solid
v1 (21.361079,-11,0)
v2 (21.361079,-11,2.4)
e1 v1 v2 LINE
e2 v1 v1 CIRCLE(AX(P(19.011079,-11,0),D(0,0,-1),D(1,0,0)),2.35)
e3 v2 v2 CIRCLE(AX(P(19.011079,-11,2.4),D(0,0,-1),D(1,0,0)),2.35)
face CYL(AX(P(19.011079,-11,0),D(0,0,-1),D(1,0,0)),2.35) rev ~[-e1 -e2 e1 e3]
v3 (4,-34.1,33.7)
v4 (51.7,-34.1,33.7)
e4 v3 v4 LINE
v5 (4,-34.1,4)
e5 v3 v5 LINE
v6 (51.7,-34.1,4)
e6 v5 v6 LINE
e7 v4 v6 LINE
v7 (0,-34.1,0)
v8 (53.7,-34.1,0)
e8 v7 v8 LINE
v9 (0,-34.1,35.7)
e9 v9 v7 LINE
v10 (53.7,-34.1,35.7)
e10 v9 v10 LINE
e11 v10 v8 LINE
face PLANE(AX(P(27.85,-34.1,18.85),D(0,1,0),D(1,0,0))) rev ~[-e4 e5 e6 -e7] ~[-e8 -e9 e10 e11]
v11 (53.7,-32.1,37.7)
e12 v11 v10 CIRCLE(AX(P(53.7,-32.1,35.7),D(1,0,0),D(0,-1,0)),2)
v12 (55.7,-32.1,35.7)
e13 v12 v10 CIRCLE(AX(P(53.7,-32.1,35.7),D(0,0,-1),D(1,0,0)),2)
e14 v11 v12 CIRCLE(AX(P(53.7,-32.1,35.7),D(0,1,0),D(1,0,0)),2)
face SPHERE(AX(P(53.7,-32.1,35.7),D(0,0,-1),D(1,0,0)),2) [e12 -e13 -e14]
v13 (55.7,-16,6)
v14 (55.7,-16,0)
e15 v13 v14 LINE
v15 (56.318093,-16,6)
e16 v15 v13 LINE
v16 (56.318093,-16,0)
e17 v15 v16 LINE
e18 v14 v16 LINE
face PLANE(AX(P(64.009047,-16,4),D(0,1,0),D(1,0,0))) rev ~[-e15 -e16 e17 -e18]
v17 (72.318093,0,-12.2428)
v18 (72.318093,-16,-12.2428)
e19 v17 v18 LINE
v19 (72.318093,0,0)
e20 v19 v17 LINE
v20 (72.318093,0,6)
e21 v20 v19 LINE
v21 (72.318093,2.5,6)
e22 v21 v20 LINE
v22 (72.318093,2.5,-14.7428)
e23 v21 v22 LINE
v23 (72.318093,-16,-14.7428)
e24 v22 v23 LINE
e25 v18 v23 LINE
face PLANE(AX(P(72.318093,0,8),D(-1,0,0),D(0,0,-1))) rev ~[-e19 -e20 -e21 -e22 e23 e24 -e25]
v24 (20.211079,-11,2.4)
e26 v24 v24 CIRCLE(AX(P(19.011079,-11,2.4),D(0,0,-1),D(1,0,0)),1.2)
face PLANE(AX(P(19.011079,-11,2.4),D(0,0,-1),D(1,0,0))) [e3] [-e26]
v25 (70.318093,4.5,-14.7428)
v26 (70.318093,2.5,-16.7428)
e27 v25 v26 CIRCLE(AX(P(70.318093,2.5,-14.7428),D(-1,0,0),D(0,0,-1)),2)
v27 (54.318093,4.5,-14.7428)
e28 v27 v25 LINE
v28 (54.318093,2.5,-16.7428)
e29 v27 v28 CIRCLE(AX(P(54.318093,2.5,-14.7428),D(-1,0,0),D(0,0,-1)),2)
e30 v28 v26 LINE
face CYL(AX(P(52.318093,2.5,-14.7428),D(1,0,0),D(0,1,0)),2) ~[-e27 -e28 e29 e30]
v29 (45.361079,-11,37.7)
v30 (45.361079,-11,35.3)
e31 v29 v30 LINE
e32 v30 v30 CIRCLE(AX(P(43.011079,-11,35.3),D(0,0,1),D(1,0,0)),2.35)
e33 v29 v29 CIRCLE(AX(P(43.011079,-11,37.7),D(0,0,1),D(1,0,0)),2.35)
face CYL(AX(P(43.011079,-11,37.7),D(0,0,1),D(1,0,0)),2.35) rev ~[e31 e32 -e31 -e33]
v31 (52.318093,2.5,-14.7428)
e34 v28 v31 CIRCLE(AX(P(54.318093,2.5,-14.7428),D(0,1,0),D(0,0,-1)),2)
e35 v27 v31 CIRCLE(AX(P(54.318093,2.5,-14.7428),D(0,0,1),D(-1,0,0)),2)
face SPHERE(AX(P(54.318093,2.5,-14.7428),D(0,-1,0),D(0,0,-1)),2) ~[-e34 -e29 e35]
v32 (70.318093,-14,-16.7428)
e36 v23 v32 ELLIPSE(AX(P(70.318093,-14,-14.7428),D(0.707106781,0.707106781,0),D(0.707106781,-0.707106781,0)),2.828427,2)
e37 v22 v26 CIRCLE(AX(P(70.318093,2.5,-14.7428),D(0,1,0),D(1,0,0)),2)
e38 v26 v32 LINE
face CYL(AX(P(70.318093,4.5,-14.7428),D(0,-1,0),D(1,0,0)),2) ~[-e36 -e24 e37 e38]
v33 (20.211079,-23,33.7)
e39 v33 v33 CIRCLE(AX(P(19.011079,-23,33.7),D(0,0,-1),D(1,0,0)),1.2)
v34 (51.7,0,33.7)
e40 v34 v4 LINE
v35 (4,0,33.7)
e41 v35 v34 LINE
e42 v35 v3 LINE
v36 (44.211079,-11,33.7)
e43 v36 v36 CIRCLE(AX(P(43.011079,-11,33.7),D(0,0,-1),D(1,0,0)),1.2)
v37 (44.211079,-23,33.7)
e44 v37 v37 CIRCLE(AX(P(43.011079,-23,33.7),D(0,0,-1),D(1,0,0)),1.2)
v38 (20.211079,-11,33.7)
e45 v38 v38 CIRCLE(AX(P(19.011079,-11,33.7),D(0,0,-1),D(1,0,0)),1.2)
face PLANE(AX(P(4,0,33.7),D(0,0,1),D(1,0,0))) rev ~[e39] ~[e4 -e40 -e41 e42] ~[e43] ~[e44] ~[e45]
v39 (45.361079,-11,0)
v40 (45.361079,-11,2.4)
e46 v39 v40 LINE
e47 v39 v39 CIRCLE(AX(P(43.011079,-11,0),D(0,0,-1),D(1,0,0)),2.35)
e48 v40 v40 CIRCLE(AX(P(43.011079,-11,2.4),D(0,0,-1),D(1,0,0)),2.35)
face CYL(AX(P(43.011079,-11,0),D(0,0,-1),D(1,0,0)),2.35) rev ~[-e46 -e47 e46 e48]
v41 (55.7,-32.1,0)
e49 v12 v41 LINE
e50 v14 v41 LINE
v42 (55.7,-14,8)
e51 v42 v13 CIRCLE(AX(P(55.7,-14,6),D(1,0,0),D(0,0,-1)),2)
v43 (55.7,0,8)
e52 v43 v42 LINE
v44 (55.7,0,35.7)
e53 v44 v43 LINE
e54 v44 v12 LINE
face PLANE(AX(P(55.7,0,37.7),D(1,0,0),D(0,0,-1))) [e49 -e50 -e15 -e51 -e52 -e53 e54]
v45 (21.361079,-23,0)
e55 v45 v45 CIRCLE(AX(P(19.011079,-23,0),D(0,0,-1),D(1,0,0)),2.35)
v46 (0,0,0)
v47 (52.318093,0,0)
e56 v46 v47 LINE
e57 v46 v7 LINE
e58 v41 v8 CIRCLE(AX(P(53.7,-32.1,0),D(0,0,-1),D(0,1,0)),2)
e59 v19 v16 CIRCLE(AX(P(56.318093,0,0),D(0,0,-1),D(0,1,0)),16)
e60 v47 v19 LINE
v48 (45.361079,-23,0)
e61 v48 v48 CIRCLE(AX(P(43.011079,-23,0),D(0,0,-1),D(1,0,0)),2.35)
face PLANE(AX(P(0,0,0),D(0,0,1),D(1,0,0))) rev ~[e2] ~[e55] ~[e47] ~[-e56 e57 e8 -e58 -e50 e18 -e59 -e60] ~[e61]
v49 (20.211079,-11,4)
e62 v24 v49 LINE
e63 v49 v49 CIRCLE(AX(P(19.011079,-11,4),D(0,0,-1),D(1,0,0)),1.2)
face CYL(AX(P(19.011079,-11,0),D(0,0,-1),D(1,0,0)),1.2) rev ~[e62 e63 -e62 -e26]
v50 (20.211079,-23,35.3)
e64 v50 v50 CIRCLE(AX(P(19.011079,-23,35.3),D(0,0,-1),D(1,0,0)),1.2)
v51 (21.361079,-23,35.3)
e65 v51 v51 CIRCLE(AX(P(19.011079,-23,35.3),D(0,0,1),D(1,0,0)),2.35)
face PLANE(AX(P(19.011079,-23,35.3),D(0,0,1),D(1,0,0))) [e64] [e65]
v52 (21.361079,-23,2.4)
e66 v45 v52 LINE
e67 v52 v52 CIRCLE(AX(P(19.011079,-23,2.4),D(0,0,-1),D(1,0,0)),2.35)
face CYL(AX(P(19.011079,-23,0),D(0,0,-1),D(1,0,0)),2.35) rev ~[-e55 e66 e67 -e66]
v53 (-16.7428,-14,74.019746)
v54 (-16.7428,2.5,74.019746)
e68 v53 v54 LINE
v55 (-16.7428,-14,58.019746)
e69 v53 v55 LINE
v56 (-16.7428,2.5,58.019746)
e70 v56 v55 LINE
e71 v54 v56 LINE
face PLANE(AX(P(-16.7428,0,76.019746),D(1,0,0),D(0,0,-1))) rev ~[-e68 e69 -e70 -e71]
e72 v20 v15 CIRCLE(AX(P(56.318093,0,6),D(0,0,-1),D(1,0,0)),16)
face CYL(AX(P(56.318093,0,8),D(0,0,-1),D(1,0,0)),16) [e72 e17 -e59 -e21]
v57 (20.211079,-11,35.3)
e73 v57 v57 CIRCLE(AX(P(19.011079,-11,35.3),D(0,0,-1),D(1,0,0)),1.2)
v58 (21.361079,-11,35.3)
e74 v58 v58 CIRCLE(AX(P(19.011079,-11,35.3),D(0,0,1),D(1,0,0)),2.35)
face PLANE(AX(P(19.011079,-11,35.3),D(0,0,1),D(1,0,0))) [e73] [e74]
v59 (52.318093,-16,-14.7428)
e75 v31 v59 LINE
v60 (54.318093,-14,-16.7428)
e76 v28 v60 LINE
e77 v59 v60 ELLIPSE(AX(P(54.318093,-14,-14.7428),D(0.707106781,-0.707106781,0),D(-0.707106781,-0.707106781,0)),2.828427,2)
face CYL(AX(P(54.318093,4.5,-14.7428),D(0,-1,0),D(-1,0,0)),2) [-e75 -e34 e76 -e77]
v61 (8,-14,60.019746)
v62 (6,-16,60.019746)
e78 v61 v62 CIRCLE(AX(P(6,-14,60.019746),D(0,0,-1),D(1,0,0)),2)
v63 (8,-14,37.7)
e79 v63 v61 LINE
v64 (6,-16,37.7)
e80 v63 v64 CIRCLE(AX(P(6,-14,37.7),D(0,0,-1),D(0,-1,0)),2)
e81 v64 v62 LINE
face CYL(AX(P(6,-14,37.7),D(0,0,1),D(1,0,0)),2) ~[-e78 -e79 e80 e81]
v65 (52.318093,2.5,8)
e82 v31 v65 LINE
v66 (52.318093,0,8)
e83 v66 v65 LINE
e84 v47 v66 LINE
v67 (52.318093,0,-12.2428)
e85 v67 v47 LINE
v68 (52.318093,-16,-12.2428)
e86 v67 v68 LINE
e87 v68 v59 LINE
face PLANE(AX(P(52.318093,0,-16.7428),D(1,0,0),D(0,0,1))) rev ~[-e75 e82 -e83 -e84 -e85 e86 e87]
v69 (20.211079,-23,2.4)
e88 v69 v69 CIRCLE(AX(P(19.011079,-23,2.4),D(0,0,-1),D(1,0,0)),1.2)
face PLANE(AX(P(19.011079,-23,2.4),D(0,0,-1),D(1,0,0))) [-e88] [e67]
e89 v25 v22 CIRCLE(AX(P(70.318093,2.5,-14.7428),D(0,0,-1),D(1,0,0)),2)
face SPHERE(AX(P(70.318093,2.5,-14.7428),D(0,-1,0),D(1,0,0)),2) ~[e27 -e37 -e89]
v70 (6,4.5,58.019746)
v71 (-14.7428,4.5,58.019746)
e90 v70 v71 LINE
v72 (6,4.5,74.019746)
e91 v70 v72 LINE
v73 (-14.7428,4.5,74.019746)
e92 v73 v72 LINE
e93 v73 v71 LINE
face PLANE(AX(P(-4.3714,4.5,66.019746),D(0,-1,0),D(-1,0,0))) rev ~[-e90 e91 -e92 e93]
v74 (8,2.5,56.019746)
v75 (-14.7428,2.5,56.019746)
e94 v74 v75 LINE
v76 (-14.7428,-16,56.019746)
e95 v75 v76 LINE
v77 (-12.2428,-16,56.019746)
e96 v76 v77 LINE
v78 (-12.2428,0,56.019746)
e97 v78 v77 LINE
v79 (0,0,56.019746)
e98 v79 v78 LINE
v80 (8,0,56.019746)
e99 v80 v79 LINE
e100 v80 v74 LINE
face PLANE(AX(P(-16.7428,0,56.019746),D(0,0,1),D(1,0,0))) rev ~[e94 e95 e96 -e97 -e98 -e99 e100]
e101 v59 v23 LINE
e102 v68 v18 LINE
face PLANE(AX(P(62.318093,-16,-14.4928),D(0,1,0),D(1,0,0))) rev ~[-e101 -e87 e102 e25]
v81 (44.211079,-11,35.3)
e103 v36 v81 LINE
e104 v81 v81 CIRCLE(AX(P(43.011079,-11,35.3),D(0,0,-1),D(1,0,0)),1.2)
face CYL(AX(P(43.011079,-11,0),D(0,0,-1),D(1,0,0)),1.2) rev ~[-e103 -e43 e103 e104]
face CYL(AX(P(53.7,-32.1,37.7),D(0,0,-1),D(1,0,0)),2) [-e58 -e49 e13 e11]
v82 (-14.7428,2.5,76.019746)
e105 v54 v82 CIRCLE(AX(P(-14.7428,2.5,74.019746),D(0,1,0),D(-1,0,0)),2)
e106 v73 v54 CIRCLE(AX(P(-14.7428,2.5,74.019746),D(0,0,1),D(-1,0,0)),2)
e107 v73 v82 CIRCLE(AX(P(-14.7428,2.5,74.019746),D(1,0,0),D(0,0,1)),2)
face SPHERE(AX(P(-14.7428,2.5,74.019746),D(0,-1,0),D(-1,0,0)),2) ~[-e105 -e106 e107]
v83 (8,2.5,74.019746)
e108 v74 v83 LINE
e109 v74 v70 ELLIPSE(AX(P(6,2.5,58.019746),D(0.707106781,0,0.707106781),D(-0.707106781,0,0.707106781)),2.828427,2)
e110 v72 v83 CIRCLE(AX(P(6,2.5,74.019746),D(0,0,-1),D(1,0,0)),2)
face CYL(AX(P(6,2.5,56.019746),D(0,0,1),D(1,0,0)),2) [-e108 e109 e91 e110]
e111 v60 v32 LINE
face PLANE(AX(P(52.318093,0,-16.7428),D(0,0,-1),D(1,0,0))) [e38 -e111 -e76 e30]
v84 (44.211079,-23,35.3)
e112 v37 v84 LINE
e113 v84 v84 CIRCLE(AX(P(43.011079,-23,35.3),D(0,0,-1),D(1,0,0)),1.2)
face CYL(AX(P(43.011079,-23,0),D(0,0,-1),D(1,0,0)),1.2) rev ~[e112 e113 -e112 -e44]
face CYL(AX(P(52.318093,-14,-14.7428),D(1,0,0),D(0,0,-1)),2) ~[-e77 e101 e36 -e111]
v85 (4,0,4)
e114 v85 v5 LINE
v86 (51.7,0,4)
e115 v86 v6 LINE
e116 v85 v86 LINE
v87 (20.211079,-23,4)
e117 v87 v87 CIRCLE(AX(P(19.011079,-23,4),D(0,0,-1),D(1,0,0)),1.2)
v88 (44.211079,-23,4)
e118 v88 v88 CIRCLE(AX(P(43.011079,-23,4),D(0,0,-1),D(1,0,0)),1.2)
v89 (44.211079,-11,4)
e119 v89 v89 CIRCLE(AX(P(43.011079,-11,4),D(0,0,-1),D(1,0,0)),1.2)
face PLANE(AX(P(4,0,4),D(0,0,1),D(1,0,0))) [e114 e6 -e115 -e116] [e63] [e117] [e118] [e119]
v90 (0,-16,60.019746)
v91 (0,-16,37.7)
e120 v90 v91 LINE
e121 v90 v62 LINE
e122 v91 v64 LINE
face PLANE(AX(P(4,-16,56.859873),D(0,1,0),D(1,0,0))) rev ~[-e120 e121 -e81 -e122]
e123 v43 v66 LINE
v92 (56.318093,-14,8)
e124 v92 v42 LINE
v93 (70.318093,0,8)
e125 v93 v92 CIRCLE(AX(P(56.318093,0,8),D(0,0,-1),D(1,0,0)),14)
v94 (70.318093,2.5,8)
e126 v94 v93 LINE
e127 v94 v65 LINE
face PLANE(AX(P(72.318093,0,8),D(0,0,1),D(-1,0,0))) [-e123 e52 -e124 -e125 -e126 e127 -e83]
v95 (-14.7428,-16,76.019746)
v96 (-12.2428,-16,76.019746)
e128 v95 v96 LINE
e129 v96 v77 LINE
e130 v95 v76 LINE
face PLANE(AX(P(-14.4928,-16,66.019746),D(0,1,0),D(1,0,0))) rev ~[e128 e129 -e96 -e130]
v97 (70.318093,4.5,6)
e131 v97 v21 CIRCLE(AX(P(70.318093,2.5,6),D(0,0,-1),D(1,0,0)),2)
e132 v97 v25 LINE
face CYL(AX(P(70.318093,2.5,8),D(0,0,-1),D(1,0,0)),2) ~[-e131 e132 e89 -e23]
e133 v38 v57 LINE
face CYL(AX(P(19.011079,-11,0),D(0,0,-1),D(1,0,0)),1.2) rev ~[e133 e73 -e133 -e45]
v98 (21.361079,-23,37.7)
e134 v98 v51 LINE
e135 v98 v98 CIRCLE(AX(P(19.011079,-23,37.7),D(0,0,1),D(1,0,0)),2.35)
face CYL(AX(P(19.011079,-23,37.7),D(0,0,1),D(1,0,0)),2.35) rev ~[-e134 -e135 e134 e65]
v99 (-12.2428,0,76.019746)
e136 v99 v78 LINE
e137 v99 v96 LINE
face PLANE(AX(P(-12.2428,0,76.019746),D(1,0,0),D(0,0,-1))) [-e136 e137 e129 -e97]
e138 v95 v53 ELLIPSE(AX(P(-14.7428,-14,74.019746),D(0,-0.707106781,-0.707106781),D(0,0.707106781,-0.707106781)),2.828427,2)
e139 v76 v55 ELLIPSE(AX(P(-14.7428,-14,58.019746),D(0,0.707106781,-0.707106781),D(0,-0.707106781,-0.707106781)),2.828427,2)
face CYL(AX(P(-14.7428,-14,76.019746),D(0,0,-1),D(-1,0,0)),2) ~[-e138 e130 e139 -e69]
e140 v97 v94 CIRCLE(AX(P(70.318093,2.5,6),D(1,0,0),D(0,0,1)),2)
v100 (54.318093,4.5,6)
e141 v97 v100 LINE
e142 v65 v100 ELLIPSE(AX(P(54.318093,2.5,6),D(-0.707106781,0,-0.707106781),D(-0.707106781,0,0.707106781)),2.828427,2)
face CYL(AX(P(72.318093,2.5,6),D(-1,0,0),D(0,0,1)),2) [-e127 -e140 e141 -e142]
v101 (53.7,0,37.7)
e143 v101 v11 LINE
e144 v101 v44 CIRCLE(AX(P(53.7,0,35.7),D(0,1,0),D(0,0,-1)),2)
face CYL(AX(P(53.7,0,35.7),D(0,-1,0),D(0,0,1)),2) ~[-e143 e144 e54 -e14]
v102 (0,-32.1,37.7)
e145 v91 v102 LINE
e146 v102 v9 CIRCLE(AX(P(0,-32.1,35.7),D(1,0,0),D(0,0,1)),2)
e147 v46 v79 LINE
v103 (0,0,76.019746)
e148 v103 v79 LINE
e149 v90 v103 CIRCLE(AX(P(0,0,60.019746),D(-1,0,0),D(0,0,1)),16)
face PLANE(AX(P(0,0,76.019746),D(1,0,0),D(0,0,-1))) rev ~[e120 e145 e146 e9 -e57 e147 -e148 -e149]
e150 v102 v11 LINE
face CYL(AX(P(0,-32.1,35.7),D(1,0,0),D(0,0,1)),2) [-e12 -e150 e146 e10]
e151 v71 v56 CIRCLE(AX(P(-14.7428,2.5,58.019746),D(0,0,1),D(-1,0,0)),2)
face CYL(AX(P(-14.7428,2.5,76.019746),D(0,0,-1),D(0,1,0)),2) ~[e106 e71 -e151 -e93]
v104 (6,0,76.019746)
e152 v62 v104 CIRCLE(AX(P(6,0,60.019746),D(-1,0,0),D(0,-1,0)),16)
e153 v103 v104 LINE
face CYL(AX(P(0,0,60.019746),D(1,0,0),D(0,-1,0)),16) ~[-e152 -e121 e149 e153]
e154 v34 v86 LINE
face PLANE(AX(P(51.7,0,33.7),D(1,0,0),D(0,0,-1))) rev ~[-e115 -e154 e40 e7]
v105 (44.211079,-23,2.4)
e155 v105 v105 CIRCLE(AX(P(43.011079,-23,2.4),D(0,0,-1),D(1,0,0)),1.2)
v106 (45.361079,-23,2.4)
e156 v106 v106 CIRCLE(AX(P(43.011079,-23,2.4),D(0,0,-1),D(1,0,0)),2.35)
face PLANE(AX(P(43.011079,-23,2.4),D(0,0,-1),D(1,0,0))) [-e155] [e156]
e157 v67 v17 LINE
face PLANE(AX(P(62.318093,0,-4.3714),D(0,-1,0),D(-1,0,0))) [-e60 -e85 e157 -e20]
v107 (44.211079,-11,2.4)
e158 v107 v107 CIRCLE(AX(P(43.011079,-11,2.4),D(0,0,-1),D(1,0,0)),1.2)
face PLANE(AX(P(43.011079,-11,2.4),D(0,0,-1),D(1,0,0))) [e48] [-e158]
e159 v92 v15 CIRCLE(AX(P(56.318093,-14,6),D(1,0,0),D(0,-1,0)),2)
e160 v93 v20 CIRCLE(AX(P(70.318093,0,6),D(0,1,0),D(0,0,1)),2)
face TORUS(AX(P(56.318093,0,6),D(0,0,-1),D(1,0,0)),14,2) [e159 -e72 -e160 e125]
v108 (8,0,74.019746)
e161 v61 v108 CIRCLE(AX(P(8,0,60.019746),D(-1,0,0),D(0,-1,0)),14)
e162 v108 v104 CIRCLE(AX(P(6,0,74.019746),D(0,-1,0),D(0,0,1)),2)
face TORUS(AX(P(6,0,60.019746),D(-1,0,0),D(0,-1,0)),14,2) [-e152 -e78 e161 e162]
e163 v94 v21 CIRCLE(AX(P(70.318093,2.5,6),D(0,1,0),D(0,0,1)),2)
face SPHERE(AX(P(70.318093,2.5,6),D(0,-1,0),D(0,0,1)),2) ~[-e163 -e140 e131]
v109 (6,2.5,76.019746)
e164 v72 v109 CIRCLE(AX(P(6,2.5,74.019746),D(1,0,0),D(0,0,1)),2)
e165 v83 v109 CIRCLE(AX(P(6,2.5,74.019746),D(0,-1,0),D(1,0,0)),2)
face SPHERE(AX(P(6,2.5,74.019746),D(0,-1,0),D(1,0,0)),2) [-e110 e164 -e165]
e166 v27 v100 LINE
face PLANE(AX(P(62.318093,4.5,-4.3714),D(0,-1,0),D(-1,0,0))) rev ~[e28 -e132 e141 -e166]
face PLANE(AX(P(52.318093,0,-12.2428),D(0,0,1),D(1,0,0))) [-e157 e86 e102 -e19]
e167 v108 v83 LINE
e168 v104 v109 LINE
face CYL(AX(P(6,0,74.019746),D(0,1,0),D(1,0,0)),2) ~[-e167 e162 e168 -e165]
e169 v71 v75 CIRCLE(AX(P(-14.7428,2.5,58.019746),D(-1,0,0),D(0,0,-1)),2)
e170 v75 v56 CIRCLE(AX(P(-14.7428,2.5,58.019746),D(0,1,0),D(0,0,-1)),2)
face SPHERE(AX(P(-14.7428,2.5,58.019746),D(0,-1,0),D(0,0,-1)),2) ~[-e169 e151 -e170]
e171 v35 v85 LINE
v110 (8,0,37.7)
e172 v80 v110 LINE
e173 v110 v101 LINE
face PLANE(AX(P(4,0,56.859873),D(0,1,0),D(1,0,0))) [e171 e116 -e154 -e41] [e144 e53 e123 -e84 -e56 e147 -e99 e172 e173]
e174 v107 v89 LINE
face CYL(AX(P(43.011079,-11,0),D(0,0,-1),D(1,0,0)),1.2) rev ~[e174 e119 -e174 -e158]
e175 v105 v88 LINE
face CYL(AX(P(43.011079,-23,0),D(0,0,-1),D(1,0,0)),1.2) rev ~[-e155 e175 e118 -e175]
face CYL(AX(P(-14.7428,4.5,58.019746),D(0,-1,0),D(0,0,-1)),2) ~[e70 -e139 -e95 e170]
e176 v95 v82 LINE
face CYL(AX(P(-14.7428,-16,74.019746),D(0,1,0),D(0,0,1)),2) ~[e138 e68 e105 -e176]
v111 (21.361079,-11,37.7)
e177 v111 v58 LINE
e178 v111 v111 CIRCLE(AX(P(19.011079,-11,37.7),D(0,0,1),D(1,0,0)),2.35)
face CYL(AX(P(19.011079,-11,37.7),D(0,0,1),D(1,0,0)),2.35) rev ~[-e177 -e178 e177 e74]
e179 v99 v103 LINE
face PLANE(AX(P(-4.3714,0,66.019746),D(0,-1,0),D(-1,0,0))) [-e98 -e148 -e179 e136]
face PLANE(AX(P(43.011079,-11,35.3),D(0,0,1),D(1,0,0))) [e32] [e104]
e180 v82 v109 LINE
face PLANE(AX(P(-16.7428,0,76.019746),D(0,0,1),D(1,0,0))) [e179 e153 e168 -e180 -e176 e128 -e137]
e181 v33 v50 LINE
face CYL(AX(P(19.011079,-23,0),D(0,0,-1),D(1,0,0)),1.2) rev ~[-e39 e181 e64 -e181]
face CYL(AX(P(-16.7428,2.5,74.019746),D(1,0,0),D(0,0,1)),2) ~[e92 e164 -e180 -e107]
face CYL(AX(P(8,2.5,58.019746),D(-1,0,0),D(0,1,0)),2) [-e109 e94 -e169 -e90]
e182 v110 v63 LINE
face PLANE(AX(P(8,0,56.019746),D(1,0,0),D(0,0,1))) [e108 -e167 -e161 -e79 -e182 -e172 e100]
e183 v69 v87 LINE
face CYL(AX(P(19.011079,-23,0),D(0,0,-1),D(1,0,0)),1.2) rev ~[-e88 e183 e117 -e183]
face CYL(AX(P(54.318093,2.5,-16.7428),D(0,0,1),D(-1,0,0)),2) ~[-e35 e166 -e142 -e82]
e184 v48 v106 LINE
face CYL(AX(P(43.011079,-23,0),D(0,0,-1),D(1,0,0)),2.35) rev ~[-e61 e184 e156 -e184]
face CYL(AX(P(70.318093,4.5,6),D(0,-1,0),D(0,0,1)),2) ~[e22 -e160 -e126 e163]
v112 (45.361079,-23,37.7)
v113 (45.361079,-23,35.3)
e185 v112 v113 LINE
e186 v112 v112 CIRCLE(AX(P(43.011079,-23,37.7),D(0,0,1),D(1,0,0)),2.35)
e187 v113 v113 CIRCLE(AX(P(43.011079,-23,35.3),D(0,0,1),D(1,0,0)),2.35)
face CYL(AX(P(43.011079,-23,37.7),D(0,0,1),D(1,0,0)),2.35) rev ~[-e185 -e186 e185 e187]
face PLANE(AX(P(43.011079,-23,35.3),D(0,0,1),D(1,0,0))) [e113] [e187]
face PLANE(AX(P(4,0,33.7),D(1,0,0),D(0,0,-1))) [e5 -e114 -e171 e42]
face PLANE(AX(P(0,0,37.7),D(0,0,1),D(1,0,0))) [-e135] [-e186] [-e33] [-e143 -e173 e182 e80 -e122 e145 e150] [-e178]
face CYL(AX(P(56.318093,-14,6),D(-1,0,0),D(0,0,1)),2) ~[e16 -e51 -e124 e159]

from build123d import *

# Parameters (mm, degrees)
SKETCH23_W           = 55.7
SKETCH23_H           = 37.7
SKETCH23_W_2         = 47.7
SKETCH23_H_2         = 29.7
BOSS_EXTRUDE11_DEPTH = 34.1
BOSS_EXTRUDE3_DEPTH  = 4.5
SKETCH19_W           = 4.5
SKETCH19_H           = 20
SKETCH19_W_2         = 20
SKETCH19_H_2         = 4.5
SKETCH19_W_3         = 8
SKETCH19_H_3         = 38.319745762
SKETCH19_W_4         = 16.618093031
SKETCH19_H_4         = 8
BOSS_EXTRUDE10_DEPTH = 16
FILLET6_R            = 16
FILLET7_R            = 2
SKETCH11_R           = 1.2
CUT_EXTRUDE1_DEPTH   = 111.325510764
SKETCH21_R           = 2.35
CUT_EXTRUDE2_DEPTH   = 2.4
SKETCH22_R           = 2.35
CUT_EXTRUDE3_DEPTH   = 2.4


with BuildPart() as part:
    # Sketch23 → Boss-Extrude11 (new body)
    with BuildSketch(Plane(origin=(0, 0, 0), x_dir=(1, 0, 0), z_dir=(0, 1, 0))):
        with Locations((27.85, -18.85)):
            Rectangle(SKETCH23_W, SKETCH23_H)
        with Locations((27.85, -18.85)):
            Rectangle(SKETCH23_W_2, SKETCH23_H_2, mode=Mode.SUBTRACT)
    extrude(amount=-BOSS_EXTRUDE11_DEPTH)

    # Sketch12 → Boss-Extrude3 (add)
    with BuildSketch(Plane(origin=(0, 0, 0), x_dir=(1, 0, 0), z_dir=(0, 1, 0))):
        Polygon((0, -76.019745762), (-12.2428, -76.019745762), (-16.7428, -76.019745762), (-16.7428, -56.019745762), (-12.2428, -56.019745762), (0, -56.019745762), (8, -56.019745762), (8, -76.019745762), align=None)
        Polygon((52.318093031, -8), (52.318093031, 0), (52.318093031, 12.2428), (52.318093031, 16.7428), (72.318093031, 16.7428), (72.318093031, 12.2428), (72.318093031, 0), (72.318093031, -8), align=None)
    extrude(amount=BOSS_EXTRUDE3_DEPTH)


with BuildPart() as boss_extrude3_piece_1:
    # of the separate pieces the step leaves, piece 1, a body of its own (boss_extrude3_pieces)
    add(part.part.solids().sort_by_distance((0, 0, 0))[0])



with BuildPart() as boss_extrude3_piece_2:
    # of the separate pieces the step leaves, piece 2, a body of its own (boss_extrude3_pieces)
    add(part.part.solids().sort_by_distance((8, 0, 76.019745762))[0])


with BuildPart() as boss_extrude3_piece_1_1:
    add(boss_extrude3_piece_1.part)

    add(boss_extrude3_piece_2.part)  # Boss-Extrude10 merges Boss-Extrude3 piece 2
    # Sketch19 → Boss-Extrude10 (add)
    with BuildSketch(Plane(origin=(0, 0, 0), x_dir=(1, 0, 0), z_dir=(0, 1, 0))):
        with Locations((-14.4928, -66.019745762)):
            Rectangle(SKETCH19_W, SKETCH19_H)
        with Locations((62.318093031, 14.4928)):
            Rectangle(SKETCH19_W_2, SKETCH19_H_2)
        with Locations((4, -56.859872881)):
            Rectangle(SKETCH19_W_3, SKETCH19_H_3)
        with Locations((64.009046516, -4)):
            Rectangle(SKETCH19_W_4, SKETCH19_H_4)
    extrude(amount=-BOSS_EXTRUDE10_DEPTH)

    # Fillet6
    fillet6_edges = [boss_extrude3_piece_1_1.edges().sort_by_distance(p)[0] for p in [
        (72.318093031, -16, 4),
        (4, -16, 76.019745762),
    ]]
    fillet(fillet6_edges, radius=FILLET6_R)

    # Fillet7
    fillet7_edges = [boss_extrude3_piece_1_1.edges().sort_by_distance(p)[0] for p in [
        (67.63180153, -11.313708499, 8),
        (8, 2.25, 76.019745762),
        (8, -16, 48.859872881),
        (8, -11.313708499, 71.333454261),
        (55.7, -34.1, 18.85),
        (72.318093031, 2.25, 8),
        (72.318093031, -5.75, -16.7428),
        (52.318093031, -5.75, -16.7428),
        (62.318093031, 4.5, 8),
        (72.318093031, 4.5, -4.3714),
        (62.318093031, 4.5, -16.7428),
        (52.318093031, 4.5, -4.3714),
        (-16.7428, -5.75, 56.019745762),
        (-16.7428, -5.75, 76.019745762),
        (8, 4.5, 66.019745762),
        (-4.3714, 4.5, 56.019745762),
        (-16.7428, 4.5, 66.019745762),
        (-4.3714, 4.5, 76.019745762),
        (56.009046515, -16, 8),
        (-16.7428, -16, 66.019745762),
        (55.7, -17.05, 37.7),
        (27.85, -34.1, 37.7),
        (62.318093031, -16, -16.7428),
    ]]
    fillet(fillet7_edges, radius=FILLET7_R)

    # Sketch11 → Cut-Extrude1 (cut, through all)
    with BuildSketch(Plane(origin=(0, 0, 0), x_dir=(-1, 0, 0), z_dir=(0, 0, -1))):
        with Locations(Location((-19.011079079, -11, 0), (0, 0, 180))):
            Circle(SKETCH11_R)
        with Locations(Location((-19.011079079, -23, 0), (0, 0, 180))):
            Circle(SKETCH11_R)
        with Locations(Location((-43.01107908, -11, 0), (0, 0, 180))):
            Circle(SKETCH11_R)
        with Locations(Location((-43.011079079, -23, 0), (0, 0, 180))):
            Circle(SKETCH11_R)
    extrude(amount=-CUT_EXTRUDE1_DEPTH, mode=Mode.SUBTRACT)

    # Sketch21 → Cut-Extrude2 (cut)
    with BuildSketch(Plane.XY.offset(37.7)):
        with Locations((19.011079079, -11)):
            Circle(SKETCH21_R)
        with Locations((43.01107908, -11)):
            Circle(SKETCH21_R)
        with Locations((19.011079079, -23)):
            Circle(SKETCH21_R)
        with Locations((43.011079079, -23)):
            Circle(SKETCH21_R)
    extrude(amount=-CUT_EXTRUDE2_DEPTH, mode=Mode.SUBTRACT)

    # Sketch22 → Cut-Extrude3 (cut)
    with BuildSketch(Plane(origin=(0, 0, 0), x_dir=(-1, 0, 0), z_dir=(0, 0, -1))):
        with Locations(Location((-43.01107908, -11, 0), (0, 0, 180))):
            Circle(SKETCH22_R)
        with Locations(Location((-43.011079079, -23, 0), (0, 0, 180))):
            Circle(SKETCH22_R)
        with Locations(Location((-19.011079079, -11, 0), (0, 0, 180))):
            Circle(SKETCH22_R)
        with Locations(Location((-19.011079079, -23, 0), (0, 0, 180))):
            Circle(SKETCH22_R)
    extrude(amount=-CUT_EXTRUDE3_DEPTH, mode=Mode.SUBTRACT)


solid = boss_extrude3_piece_1_1.part
